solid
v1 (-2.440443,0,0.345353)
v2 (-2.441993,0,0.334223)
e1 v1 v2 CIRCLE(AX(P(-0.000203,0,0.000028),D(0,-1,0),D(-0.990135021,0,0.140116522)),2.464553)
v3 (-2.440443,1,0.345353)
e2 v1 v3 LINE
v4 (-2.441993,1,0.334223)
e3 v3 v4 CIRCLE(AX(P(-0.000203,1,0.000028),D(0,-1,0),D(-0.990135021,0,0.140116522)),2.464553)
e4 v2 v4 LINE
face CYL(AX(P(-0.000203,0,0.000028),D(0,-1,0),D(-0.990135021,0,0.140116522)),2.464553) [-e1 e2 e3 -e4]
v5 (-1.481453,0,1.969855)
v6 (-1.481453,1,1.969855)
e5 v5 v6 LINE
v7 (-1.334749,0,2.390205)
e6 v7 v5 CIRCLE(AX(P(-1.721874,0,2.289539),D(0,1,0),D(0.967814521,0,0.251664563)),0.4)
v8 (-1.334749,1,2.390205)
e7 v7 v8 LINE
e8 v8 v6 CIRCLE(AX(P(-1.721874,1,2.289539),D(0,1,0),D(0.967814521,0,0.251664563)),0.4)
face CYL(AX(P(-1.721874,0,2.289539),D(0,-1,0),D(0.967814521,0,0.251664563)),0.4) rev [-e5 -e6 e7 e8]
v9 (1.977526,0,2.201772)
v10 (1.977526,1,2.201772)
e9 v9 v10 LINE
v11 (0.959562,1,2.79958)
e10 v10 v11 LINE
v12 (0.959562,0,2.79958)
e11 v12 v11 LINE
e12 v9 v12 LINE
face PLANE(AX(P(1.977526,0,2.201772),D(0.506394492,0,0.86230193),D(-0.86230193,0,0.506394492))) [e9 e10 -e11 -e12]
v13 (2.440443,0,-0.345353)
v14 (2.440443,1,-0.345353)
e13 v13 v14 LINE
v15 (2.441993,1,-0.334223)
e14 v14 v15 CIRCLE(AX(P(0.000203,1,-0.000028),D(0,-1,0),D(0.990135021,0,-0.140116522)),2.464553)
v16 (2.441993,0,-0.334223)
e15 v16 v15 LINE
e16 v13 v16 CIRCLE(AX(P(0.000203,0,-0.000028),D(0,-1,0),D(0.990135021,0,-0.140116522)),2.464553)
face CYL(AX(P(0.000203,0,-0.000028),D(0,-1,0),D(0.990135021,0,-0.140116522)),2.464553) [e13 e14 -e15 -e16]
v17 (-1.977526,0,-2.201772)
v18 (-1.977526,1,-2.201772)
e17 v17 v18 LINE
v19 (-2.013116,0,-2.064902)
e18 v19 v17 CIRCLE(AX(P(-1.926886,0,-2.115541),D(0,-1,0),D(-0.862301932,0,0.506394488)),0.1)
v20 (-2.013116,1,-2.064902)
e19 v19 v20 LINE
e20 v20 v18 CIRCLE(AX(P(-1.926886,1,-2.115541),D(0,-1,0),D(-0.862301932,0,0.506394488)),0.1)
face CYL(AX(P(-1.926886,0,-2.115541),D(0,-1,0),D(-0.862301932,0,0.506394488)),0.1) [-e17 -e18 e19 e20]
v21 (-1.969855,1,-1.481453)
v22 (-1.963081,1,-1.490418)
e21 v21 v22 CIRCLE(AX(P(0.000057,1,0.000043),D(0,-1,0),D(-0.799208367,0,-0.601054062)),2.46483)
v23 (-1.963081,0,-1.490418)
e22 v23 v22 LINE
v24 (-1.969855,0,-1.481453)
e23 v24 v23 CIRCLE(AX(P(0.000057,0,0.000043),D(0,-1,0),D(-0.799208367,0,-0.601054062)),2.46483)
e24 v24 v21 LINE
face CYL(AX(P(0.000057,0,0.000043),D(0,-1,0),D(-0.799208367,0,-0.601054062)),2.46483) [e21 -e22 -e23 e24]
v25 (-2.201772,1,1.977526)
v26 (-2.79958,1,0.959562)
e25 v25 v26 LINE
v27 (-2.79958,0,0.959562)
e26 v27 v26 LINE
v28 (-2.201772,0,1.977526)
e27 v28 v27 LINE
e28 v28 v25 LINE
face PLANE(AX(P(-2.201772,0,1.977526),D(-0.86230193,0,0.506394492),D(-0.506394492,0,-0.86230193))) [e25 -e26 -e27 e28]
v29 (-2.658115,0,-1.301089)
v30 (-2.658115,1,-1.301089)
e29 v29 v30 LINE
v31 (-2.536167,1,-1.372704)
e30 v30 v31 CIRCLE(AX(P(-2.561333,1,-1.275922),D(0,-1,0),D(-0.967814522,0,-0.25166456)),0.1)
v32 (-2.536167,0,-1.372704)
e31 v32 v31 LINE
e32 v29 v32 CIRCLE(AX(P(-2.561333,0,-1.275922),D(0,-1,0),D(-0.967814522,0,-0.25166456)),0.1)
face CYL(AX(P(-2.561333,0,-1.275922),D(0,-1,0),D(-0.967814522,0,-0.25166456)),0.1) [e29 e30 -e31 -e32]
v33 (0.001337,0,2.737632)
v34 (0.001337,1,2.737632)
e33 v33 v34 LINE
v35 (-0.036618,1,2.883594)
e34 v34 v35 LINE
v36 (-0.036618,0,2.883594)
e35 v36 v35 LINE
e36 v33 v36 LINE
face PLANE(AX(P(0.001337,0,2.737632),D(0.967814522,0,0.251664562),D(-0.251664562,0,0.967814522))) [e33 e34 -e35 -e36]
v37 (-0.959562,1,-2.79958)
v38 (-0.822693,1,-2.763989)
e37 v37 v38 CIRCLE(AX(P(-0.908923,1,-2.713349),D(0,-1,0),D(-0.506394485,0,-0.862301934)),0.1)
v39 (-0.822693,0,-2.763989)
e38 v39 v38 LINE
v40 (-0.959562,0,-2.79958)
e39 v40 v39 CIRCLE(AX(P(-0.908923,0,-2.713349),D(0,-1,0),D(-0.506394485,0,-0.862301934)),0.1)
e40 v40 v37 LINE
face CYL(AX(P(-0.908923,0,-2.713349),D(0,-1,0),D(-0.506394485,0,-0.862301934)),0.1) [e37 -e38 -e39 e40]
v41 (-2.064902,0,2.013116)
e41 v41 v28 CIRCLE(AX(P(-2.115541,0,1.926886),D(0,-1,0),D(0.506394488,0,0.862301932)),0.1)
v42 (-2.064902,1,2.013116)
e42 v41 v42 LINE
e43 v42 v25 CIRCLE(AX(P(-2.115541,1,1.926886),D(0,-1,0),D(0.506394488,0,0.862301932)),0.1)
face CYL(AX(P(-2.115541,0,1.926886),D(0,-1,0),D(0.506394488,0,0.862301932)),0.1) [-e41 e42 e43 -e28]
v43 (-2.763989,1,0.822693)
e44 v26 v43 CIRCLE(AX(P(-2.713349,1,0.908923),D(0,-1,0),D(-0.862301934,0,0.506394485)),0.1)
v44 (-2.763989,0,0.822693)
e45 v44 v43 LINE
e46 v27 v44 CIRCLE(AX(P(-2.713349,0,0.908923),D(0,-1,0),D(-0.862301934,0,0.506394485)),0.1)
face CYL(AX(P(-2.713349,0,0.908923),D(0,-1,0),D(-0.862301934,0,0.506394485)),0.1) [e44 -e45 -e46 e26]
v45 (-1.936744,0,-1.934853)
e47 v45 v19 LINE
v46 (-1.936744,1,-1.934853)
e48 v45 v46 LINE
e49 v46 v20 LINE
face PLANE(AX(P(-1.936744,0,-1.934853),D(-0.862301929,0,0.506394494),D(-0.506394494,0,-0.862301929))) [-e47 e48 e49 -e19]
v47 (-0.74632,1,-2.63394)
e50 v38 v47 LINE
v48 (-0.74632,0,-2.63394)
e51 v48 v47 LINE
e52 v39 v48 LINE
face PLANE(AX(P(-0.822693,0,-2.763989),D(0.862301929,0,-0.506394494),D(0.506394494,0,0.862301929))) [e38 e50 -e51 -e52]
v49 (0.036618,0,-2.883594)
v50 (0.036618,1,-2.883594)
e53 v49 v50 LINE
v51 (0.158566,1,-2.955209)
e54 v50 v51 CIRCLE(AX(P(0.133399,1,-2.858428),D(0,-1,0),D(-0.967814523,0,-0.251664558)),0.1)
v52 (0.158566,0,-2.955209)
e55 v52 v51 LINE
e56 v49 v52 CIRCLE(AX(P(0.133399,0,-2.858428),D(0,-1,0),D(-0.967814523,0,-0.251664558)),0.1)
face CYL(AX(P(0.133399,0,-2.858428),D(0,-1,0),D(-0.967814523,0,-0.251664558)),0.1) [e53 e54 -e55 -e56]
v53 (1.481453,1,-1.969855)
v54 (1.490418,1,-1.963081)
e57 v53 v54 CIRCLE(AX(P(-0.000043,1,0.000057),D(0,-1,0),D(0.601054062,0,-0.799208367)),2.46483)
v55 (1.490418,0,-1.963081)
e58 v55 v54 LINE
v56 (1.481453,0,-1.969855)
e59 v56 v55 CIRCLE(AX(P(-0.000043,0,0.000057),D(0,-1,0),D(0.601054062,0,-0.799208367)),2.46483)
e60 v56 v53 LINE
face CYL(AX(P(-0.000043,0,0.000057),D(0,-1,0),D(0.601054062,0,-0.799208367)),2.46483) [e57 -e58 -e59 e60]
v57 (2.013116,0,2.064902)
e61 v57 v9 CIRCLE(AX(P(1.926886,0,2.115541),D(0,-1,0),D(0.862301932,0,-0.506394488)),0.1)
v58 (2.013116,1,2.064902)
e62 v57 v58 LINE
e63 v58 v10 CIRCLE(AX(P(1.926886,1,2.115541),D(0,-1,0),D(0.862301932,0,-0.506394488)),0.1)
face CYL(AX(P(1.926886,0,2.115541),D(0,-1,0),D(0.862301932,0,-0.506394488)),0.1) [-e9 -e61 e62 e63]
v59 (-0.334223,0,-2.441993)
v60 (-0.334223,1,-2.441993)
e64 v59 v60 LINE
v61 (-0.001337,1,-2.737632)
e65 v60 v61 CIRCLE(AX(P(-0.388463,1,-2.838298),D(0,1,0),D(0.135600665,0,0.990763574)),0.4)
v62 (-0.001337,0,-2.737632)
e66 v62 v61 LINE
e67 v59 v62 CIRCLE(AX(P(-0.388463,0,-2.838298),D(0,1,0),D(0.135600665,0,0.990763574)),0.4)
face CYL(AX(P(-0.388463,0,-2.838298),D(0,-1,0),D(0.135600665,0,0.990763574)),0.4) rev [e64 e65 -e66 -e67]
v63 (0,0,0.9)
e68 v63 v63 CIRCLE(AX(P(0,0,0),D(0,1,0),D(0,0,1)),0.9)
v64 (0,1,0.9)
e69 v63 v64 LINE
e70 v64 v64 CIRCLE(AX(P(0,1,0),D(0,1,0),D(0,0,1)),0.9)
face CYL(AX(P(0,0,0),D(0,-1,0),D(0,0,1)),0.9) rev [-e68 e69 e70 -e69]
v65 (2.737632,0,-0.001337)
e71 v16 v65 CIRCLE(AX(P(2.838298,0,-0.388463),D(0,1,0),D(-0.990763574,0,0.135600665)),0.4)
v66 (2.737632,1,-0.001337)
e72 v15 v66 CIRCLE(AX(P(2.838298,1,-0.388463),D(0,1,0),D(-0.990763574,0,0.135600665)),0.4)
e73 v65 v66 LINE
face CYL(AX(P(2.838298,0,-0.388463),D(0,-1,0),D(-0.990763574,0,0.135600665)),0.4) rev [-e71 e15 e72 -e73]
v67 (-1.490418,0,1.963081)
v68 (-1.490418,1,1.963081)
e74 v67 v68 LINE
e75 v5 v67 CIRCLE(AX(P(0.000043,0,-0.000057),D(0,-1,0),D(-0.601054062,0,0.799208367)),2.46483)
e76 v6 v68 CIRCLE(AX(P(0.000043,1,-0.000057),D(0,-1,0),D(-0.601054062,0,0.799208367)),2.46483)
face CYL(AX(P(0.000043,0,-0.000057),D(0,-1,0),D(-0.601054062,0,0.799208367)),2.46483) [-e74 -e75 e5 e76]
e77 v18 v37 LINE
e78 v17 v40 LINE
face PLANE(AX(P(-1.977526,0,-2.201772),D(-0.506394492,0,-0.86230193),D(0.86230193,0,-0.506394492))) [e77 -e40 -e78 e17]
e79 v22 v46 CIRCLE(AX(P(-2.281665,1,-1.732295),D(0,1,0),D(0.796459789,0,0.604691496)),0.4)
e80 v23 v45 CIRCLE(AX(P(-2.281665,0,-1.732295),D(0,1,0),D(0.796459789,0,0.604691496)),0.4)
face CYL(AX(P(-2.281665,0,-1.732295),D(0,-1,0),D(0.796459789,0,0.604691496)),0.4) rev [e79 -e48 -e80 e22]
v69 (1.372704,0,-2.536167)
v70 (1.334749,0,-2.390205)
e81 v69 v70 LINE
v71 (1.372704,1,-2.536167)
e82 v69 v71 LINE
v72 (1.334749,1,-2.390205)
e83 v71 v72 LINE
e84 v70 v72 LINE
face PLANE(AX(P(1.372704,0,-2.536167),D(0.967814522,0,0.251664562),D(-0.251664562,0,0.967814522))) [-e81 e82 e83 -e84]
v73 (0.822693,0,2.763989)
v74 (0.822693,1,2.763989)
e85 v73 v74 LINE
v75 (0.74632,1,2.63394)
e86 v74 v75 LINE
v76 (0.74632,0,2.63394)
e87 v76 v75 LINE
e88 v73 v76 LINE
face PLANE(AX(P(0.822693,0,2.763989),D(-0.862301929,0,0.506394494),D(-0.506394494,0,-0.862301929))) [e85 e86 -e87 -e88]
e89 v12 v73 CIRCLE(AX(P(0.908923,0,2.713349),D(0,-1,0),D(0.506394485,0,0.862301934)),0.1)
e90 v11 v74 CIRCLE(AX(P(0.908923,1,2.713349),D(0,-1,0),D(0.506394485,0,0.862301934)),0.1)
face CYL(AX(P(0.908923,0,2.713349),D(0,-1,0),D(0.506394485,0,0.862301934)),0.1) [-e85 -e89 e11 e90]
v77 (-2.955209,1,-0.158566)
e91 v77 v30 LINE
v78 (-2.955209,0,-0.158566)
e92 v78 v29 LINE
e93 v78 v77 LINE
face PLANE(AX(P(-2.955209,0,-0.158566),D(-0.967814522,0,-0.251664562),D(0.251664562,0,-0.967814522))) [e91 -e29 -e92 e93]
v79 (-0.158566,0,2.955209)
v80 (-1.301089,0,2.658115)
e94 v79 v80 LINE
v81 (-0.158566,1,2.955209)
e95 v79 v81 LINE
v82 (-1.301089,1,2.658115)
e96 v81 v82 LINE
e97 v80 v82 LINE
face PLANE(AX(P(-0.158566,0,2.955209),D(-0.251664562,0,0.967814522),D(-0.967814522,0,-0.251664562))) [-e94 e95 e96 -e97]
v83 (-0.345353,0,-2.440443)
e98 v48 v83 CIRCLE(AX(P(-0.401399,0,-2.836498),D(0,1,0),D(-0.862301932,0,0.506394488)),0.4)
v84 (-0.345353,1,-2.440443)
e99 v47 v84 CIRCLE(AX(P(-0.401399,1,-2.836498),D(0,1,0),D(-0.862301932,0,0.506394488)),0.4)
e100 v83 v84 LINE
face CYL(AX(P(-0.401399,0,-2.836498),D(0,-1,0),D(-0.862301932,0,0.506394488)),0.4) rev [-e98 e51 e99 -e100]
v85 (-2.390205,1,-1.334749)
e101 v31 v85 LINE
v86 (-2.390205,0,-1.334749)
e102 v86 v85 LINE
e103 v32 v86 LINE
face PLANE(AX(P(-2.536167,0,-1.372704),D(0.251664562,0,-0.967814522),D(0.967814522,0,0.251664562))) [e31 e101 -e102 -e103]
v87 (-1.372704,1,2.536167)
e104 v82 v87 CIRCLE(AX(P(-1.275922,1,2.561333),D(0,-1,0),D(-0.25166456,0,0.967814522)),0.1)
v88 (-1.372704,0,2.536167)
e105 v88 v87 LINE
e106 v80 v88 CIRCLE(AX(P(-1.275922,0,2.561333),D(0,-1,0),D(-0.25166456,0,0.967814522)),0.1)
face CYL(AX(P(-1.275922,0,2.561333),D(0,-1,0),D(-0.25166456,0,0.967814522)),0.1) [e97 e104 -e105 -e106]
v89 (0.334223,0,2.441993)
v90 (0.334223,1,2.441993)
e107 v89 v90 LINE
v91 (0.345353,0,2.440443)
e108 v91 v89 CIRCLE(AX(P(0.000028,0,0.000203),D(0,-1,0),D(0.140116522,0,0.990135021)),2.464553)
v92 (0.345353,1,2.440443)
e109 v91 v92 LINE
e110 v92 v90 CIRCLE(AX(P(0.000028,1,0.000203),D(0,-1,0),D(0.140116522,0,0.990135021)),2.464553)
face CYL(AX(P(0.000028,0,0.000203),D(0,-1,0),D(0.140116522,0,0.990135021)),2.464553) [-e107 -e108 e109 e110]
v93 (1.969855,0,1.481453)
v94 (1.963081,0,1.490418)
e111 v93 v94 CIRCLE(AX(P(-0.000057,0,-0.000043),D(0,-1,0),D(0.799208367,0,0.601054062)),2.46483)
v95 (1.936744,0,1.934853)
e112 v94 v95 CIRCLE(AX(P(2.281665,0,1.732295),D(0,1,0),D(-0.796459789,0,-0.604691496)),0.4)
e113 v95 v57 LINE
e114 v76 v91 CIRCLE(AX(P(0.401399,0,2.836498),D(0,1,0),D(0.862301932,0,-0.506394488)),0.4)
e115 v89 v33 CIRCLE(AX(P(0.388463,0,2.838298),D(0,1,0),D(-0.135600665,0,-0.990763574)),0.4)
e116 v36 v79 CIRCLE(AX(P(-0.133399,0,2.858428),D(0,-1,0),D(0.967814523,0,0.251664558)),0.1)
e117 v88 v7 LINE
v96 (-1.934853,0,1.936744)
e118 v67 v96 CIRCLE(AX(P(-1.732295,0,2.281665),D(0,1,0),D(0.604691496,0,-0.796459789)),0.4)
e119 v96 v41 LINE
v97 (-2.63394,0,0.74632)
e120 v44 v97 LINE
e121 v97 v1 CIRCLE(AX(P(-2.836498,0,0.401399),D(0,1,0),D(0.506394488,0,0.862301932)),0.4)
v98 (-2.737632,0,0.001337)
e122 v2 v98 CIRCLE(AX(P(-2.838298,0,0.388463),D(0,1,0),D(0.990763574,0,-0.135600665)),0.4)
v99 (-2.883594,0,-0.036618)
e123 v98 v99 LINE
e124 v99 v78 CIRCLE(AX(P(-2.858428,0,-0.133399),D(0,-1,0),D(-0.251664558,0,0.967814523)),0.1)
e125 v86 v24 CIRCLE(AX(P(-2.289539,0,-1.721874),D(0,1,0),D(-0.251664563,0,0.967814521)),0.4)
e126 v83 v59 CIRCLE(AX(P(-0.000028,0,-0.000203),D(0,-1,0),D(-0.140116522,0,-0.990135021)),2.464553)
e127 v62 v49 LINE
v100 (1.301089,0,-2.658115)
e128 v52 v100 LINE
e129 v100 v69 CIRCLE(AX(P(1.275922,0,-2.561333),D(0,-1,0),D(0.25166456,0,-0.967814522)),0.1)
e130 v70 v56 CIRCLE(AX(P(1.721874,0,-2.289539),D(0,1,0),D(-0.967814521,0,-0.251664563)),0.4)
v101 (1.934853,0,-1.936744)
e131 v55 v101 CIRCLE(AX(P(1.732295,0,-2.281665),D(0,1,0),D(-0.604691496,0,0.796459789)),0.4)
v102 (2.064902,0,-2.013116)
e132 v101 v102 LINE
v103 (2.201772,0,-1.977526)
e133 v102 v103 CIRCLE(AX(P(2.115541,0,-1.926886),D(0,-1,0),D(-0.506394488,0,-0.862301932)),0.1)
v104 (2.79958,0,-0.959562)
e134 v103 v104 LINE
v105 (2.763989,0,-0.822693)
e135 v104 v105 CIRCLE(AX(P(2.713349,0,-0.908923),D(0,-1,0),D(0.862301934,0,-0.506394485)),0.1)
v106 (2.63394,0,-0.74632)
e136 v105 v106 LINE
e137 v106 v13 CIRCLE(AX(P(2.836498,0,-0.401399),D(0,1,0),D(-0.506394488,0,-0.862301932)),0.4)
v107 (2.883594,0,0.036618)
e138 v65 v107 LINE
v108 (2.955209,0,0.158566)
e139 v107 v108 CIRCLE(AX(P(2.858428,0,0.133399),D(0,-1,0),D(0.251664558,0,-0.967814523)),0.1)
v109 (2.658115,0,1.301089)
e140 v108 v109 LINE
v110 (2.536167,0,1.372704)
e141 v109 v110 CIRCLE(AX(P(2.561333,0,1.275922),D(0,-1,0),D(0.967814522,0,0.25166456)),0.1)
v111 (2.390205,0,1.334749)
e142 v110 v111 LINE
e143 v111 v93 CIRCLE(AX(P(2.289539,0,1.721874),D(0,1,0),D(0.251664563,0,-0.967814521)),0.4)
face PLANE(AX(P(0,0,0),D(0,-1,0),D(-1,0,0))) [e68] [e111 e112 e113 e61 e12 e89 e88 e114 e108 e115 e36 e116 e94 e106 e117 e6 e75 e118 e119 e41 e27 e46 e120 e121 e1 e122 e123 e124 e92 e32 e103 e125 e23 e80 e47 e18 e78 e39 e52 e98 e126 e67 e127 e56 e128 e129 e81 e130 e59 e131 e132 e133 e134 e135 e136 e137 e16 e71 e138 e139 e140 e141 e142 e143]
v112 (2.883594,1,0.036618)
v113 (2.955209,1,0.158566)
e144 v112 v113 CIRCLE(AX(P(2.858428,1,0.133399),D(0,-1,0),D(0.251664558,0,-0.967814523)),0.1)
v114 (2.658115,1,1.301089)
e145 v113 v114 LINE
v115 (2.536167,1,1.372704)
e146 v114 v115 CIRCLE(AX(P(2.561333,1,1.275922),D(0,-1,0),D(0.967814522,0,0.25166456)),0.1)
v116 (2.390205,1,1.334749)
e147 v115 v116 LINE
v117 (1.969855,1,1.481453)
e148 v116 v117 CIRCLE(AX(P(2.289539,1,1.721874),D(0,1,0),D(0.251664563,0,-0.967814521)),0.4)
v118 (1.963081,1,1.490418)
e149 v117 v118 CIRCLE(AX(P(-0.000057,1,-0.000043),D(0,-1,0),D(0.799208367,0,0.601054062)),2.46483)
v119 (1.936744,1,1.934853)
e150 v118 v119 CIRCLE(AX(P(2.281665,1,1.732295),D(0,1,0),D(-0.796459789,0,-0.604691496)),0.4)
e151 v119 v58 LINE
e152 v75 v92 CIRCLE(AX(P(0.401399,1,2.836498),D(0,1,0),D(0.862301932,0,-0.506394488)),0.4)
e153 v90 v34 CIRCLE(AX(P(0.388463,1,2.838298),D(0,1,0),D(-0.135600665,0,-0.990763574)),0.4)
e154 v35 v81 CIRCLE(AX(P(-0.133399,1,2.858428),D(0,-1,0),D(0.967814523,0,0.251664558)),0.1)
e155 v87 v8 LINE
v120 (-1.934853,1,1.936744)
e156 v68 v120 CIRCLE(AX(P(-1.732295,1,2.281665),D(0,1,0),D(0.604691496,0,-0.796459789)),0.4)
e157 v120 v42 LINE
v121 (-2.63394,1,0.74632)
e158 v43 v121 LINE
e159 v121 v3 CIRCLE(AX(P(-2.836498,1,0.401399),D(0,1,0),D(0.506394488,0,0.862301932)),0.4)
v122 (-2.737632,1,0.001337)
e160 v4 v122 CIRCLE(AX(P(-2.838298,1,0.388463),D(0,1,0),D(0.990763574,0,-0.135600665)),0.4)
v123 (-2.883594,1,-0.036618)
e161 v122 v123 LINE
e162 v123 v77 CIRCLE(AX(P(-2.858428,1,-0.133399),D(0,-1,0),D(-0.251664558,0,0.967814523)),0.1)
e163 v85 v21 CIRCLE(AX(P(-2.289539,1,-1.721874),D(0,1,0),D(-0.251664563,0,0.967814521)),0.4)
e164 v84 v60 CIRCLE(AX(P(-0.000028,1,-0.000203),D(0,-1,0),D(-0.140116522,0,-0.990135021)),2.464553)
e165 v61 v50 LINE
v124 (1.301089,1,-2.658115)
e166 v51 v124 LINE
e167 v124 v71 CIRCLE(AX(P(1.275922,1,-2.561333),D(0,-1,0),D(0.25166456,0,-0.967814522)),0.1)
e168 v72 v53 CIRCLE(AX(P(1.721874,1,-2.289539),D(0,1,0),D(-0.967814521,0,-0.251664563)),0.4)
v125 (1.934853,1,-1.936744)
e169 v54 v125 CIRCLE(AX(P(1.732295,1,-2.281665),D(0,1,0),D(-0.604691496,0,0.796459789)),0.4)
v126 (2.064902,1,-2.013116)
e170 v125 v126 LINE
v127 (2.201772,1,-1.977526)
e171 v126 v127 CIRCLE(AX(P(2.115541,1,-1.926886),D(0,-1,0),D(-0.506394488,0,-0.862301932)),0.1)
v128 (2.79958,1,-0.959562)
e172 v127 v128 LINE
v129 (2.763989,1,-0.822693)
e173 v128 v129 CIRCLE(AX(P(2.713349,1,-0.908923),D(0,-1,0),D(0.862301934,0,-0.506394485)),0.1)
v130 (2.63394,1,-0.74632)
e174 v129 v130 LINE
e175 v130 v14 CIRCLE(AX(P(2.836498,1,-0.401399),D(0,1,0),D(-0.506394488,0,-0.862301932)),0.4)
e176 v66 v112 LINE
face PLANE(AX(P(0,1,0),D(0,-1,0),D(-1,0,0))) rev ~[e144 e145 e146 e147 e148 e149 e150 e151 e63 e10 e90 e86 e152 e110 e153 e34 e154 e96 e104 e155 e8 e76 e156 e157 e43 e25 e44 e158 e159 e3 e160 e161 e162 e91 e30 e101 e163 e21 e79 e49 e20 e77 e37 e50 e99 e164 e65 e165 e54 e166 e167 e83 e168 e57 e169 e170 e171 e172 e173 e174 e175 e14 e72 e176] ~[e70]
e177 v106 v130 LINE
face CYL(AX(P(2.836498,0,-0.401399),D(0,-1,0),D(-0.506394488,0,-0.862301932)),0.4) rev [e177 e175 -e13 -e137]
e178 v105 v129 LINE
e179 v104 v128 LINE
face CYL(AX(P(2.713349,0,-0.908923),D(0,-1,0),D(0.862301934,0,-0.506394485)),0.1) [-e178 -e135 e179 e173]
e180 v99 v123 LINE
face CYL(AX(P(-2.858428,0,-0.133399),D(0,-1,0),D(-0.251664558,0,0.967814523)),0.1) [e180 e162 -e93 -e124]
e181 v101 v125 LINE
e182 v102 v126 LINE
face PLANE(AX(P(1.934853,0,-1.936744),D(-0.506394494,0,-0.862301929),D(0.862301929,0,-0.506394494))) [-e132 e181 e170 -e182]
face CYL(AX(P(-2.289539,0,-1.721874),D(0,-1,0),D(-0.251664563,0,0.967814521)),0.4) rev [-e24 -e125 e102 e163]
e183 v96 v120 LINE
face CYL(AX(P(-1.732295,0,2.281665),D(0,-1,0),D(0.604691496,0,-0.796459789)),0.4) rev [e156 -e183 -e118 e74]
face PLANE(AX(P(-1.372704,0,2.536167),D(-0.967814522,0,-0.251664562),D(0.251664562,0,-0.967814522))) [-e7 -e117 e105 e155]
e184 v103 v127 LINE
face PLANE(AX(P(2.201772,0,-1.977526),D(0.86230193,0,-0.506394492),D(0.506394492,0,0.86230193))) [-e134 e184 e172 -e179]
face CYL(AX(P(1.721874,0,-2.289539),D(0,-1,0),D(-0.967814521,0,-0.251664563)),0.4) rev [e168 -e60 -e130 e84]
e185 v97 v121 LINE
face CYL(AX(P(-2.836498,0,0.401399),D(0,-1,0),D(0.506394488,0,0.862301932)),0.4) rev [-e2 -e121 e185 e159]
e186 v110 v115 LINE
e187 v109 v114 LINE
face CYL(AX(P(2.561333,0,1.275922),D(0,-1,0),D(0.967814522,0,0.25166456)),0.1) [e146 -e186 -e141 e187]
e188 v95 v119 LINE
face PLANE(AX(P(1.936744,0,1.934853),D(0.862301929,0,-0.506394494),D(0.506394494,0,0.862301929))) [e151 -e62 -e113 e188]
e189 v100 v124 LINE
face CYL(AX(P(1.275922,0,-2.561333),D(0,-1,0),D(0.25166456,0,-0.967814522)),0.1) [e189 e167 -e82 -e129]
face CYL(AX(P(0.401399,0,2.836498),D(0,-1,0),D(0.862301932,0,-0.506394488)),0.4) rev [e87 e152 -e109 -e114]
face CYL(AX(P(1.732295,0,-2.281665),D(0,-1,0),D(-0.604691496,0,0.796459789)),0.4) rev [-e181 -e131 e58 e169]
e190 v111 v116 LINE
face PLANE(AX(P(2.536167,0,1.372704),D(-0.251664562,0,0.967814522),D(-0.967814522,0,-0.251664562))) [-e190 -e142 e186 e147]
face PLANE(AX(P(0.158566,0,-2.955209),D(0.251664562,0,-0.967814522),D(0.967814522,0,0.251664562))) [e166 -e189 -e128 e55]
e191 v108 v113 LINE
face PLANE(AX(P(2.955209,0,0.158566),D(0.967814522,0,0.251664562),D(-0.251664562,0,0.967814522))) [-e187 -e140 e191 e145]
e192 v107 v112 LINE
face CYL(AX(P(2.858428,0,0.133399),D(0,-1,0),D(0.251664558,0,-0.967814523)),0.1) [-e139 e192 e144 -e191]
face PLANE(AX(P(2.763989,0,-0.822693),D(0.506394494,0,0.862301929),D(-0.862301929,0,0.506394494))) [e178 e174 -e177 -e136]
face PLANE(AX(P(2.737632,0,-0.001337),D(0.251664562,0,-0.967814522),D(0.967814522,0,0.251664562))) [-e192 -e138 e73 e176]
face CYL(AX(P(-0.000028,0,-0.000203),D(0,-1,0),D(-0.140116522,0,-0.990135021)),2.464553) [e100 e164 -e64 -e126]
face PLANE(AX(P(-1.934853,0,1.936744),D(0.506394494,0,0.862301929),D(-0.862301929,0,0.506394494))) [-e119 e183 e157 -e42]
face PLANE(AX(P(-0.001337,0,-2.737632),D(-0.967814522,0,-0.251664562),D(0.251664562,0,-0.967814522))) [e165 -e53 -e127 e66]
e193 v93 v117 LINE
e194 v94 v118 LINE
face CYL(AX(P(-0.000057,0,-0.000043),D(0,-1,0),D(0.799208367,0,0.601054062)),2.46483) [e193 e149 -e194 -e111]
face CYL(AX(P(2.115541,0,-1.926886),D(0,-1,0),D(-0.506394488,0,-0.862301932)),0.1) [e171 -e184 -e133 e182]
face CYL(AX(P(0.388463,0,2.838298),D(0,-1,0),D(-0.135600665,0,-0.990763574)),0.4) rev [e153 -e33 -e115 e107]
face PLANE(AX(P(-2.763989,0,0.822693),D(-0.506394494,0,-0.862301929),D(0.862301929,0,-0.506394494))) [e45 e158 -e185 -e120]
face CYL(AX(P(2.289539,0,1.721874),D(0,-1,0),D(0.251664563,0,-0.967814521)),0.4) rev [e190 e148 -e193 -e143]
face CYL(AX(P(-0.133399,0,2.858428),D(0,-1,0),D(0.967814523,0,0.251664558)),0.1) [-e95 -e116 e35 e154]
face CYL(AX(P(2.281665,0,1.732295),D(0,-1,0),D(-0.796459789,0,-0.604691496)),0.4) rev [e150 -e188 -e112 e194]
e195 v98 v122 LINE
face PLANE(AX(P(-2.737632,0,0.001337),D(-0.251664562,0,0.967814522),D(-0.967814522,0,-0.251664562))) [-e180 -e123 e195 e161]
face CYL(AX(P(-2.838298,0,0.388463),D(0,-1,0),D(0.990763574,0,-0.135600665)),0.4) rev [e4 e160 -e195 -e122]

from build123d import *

# Parameters (mm, degrees)
SKETCH_1_R      = 0.9
EXTRUDE_1_DEPTH = 1


with BuildPart() as part:
    # Эскиз1 → Бобышка-Вытянуть1 (new body)
    with BuildSketch(Plane(origin=(0, 0, 0), x_dir=(1, 0, 0), z_dir=(0, 1, 0))):
        with BuildLine():
            Line((-2.955209453, 0.158565738), (-2.658114772, 1.301088723))
            ThreePointArc((-2.658114772, 1.301088723), (-2.611972769, 1.36215246), (-2.536166863, 1.372703719))
            Line((-2.536166863, 1.372703719), (-2.390204654, 1.3347486))
            ThreePointArc((-2.390204654, 1.3347486), (-2.157733286, 1.344214113), (-1.969855467, 1.481452804))
            ThreePointArc((-1.969855467, 1.481452804), (-1.966473238, 1.485939425), (-1.96308079, 1.490418325))
            ThreePointArc((-1.96308079, 1.490418325), (-1.882365193, 1.708632727), (-1.936743933, 1.934852721))
            Line((-1.936743933, 1.934852721), (-2.013116479, 2.064901911))
            ThreePointArc((-2.013116479, 2.064901911), (-2.023667738, 2.140707816), (-1.977525735, 2.201771553))
            Line((-1.977525735, 2.201771553), (-0.959562321, 2.799579639))
            ThreePointArc((-0.959562321, 2.799579639), (-0.883756416, 2.810130898), (-0.822692679, 2.763988896))
            Line((-0.822692679, 2.763988896), (-0.746320133, 2.633939706))
            ThreePointArc((-0.746320133, 2.633939706), (-0.575244924, 2.476250753), (-0.345352836, 2.440443482))
            ThreePointArc((-0.345352836, 2.440443482), (-0.339788718, 2.441224406), (-0.334222834, 2.441992643))
            ThreePointArc((-0.334222834, 2.441992643), (-0.122847405, 2.539218981), (-0.001337289, 2.737632248))
            Line((-0.001337289, 2.737632248), (0.03661783, 2.883594457))
            ThreePointArc((0.03661783, 2.883594457), (0.082759833, 2.944658194), (0.158565738, 2.955209453))
            Line((0.158565738, 2.955209453), (1.301088723, 2.658114772))
            ThreePointArc((1.301088723, 2.658114772), (1.36215246, 2.611972769), (1.372703719, 2.536166863))
            Line((1.372703719, 2.536166863), (1.3347486, 2.390204654))
            ThreePointArc((1.3347486, 2.390204654), (1.344214113, 2.157733286), (1.481452804, 1.969855467))
            ThreePointArc((1.481452804, 1.969855467), (1.485939425, 1.966473238), (1.490418325, 1.96308079))
            ThreePointArc((1.490418325, 1.96308079), (1.708632727, 1.882365193), (1.934852721, 1.936743933))
            Line((1.934852721, 1.936743933), (2.064901911, 2.013116479))
            ThreePointArc((2.064901911, 2.013116479), (2.140707816, 2.023667738), (2.201771553, 1.977525735))
            Line((2.201771553, 1.977525735), (2.799579639, 0.959562321))
            ThreePointArc((2.799579639, 0.959562321), (2.810130898, 0.883756416), (2.763988896, 0.822692679))
            Line((2.763988896, 0.822692679), (2.633939706, 0.746320133))
            ThreePointArc((2.633939706, 0.746320133), (2.476250753, 0.575244924), (2.440443482, 0.345352836))
            ThreePointArc((2.440443482, 0.345352836), (2.441224406, 0.339788718), (2.441992643, 0.334222834))
            ThreePointArc((2.441992643, 0.334222834), (2.539218981, 0.122847405), (2.737632248, 0.001337289))
            Line((2.737632248, 0.001337289), (2.883594457, -0.03661783))
            ThreePointArc((2.883594457, -0.03661783), (2.944658194, -0.082759833), (2.955209453, -0.158565738))
            Line((2.955209453, -0.158565738), (2.658114772, -1.301088723))
            ThreePointArc((2.658114772, -1.301088723), (2.611972769, -1.36215246), (2.536166863, -1.372703719))
            Line((2.536166863, -1.372703719), (2.390204654, -1.3347486))
            ThreePointArc((2.390204654, -1.3347486), (2.157733286, -1.344214113), (1.969855467, -1.481452804))
            ThreePointArc((1.969855467, -1.481452804), (1.966473238, -1.485939425), (1.96308079, -1.490418325))
            ThreePointArc((1.96308079, -1.490418325), (1.882365193, -1.708632727), (1.936743933, -1.934852721))
            Line((1.936743933, -1.934852721), (2.013116479, -2.064901911))
            ThreePointArc((2.013116479, -2.064901911), (2.023667738, -2.140707816), (1.977525735, -2.201771553))
            Line((1.977525735, -2.201771553), (0.959562321, -2.799579639))
            ThreePointArc((0.959562321, -2.799579639), (0.883756416, -2.810130898), (0.822692679, -2.763988896))
            Line((0.822692679, -2.763988896), (0.746320133, -2.633939706))
            ThreePointArc((0.746320133, -2.633939706), (0.575244924, -2.476250753), (0.345352836, -2.440443482))
            ThreePointArc((0.345352836, -2.440443482), (0.339788718, -2.441224406), (0.334222834, -2.441992643))
            ThreePointArc((0.334222834, -2.441992643), (0.122847405, -2.539218981), (0.001337289, -2.737632248))
            Line((0.001337289, -2.737632248), (-0.03661783, -2.883594457))
            ThreePointArc((-0.03661783, -2.883594457), (-0.082759833, -2.944658194), (-0.158565738, -2.955209453))
            Line((-0.158565738, -2.955209453), (-1.301088723, -2.658114772))
            ThreePointArc((-1.301088723, -2.658114772), (-1.36215246, -2.611972769), (-1.372703719, -2.536166863))
            Line((-1.372703719, -2.536166863), (-1.3347486, -2.390204654))
            ThreePointArc((-1.3347486, -2.390204654), (-1.344214113, -2.157733286), (-1.481452804, -1.969855467))
            ThreePointArc((-1.481452804, -1.969855467), (-1.485939425, -1.966473238), (-1.490418325, -1.96308079))
            ThreePointArc((-1.490418325, -1.96308079), (-1.708632727, -1.882365193), (-1.934852721, -1.936743933))
            Line((-1.934852721, -1.936743933), (-2.064901911, -2.013116479))
            ThreePointArc((-2.064901911, -2.013116479), (-2.140707816, -2.023667738), (-2.201771553, -1.977525735))
            Line((-2.201771553, -1.977525735), (-2.799579639, -0.959562321))
            ThreePointArc((-2.799579639, -0.959562321), (-2.810130898, -0.883756416), (-2.763988896, -0.822692679))
            Line((-2.763988896, -0.822692679), (-2.633939706, -0.746320133))
            ThreePointArc((-2.633939706, -0.746320133), (-2.476250753, -0.575244924), (-2.440443482, -0.345352836))
            ThreePointArc((-2.440443482, -0.345352836), (-2.441224406, -0.339788718), (-2.441992643, -0.334222834))
            ThreePointArc((-2.441992643, -0.334222834), (-2.539218981, -0.122847405), (-2.737632248, -0.001337289))
            Line((-2.737632248, -0.001337289), (-2.883594457, 0.03661783))
            ThreePointArc((-2.883594457, 0.03661783), (-2.944658194, 0.082759833), (-2.955209453, 0.158565738))
        make_face()
        with Locations(Location((0, 0, 0), (0, 0, 270))):
            Circle(SKETCH_1_R, mode=Mode.SUBTRACT)
    extrude(amount=EXTRUDE_1_DEPTH)


solid = part.part
